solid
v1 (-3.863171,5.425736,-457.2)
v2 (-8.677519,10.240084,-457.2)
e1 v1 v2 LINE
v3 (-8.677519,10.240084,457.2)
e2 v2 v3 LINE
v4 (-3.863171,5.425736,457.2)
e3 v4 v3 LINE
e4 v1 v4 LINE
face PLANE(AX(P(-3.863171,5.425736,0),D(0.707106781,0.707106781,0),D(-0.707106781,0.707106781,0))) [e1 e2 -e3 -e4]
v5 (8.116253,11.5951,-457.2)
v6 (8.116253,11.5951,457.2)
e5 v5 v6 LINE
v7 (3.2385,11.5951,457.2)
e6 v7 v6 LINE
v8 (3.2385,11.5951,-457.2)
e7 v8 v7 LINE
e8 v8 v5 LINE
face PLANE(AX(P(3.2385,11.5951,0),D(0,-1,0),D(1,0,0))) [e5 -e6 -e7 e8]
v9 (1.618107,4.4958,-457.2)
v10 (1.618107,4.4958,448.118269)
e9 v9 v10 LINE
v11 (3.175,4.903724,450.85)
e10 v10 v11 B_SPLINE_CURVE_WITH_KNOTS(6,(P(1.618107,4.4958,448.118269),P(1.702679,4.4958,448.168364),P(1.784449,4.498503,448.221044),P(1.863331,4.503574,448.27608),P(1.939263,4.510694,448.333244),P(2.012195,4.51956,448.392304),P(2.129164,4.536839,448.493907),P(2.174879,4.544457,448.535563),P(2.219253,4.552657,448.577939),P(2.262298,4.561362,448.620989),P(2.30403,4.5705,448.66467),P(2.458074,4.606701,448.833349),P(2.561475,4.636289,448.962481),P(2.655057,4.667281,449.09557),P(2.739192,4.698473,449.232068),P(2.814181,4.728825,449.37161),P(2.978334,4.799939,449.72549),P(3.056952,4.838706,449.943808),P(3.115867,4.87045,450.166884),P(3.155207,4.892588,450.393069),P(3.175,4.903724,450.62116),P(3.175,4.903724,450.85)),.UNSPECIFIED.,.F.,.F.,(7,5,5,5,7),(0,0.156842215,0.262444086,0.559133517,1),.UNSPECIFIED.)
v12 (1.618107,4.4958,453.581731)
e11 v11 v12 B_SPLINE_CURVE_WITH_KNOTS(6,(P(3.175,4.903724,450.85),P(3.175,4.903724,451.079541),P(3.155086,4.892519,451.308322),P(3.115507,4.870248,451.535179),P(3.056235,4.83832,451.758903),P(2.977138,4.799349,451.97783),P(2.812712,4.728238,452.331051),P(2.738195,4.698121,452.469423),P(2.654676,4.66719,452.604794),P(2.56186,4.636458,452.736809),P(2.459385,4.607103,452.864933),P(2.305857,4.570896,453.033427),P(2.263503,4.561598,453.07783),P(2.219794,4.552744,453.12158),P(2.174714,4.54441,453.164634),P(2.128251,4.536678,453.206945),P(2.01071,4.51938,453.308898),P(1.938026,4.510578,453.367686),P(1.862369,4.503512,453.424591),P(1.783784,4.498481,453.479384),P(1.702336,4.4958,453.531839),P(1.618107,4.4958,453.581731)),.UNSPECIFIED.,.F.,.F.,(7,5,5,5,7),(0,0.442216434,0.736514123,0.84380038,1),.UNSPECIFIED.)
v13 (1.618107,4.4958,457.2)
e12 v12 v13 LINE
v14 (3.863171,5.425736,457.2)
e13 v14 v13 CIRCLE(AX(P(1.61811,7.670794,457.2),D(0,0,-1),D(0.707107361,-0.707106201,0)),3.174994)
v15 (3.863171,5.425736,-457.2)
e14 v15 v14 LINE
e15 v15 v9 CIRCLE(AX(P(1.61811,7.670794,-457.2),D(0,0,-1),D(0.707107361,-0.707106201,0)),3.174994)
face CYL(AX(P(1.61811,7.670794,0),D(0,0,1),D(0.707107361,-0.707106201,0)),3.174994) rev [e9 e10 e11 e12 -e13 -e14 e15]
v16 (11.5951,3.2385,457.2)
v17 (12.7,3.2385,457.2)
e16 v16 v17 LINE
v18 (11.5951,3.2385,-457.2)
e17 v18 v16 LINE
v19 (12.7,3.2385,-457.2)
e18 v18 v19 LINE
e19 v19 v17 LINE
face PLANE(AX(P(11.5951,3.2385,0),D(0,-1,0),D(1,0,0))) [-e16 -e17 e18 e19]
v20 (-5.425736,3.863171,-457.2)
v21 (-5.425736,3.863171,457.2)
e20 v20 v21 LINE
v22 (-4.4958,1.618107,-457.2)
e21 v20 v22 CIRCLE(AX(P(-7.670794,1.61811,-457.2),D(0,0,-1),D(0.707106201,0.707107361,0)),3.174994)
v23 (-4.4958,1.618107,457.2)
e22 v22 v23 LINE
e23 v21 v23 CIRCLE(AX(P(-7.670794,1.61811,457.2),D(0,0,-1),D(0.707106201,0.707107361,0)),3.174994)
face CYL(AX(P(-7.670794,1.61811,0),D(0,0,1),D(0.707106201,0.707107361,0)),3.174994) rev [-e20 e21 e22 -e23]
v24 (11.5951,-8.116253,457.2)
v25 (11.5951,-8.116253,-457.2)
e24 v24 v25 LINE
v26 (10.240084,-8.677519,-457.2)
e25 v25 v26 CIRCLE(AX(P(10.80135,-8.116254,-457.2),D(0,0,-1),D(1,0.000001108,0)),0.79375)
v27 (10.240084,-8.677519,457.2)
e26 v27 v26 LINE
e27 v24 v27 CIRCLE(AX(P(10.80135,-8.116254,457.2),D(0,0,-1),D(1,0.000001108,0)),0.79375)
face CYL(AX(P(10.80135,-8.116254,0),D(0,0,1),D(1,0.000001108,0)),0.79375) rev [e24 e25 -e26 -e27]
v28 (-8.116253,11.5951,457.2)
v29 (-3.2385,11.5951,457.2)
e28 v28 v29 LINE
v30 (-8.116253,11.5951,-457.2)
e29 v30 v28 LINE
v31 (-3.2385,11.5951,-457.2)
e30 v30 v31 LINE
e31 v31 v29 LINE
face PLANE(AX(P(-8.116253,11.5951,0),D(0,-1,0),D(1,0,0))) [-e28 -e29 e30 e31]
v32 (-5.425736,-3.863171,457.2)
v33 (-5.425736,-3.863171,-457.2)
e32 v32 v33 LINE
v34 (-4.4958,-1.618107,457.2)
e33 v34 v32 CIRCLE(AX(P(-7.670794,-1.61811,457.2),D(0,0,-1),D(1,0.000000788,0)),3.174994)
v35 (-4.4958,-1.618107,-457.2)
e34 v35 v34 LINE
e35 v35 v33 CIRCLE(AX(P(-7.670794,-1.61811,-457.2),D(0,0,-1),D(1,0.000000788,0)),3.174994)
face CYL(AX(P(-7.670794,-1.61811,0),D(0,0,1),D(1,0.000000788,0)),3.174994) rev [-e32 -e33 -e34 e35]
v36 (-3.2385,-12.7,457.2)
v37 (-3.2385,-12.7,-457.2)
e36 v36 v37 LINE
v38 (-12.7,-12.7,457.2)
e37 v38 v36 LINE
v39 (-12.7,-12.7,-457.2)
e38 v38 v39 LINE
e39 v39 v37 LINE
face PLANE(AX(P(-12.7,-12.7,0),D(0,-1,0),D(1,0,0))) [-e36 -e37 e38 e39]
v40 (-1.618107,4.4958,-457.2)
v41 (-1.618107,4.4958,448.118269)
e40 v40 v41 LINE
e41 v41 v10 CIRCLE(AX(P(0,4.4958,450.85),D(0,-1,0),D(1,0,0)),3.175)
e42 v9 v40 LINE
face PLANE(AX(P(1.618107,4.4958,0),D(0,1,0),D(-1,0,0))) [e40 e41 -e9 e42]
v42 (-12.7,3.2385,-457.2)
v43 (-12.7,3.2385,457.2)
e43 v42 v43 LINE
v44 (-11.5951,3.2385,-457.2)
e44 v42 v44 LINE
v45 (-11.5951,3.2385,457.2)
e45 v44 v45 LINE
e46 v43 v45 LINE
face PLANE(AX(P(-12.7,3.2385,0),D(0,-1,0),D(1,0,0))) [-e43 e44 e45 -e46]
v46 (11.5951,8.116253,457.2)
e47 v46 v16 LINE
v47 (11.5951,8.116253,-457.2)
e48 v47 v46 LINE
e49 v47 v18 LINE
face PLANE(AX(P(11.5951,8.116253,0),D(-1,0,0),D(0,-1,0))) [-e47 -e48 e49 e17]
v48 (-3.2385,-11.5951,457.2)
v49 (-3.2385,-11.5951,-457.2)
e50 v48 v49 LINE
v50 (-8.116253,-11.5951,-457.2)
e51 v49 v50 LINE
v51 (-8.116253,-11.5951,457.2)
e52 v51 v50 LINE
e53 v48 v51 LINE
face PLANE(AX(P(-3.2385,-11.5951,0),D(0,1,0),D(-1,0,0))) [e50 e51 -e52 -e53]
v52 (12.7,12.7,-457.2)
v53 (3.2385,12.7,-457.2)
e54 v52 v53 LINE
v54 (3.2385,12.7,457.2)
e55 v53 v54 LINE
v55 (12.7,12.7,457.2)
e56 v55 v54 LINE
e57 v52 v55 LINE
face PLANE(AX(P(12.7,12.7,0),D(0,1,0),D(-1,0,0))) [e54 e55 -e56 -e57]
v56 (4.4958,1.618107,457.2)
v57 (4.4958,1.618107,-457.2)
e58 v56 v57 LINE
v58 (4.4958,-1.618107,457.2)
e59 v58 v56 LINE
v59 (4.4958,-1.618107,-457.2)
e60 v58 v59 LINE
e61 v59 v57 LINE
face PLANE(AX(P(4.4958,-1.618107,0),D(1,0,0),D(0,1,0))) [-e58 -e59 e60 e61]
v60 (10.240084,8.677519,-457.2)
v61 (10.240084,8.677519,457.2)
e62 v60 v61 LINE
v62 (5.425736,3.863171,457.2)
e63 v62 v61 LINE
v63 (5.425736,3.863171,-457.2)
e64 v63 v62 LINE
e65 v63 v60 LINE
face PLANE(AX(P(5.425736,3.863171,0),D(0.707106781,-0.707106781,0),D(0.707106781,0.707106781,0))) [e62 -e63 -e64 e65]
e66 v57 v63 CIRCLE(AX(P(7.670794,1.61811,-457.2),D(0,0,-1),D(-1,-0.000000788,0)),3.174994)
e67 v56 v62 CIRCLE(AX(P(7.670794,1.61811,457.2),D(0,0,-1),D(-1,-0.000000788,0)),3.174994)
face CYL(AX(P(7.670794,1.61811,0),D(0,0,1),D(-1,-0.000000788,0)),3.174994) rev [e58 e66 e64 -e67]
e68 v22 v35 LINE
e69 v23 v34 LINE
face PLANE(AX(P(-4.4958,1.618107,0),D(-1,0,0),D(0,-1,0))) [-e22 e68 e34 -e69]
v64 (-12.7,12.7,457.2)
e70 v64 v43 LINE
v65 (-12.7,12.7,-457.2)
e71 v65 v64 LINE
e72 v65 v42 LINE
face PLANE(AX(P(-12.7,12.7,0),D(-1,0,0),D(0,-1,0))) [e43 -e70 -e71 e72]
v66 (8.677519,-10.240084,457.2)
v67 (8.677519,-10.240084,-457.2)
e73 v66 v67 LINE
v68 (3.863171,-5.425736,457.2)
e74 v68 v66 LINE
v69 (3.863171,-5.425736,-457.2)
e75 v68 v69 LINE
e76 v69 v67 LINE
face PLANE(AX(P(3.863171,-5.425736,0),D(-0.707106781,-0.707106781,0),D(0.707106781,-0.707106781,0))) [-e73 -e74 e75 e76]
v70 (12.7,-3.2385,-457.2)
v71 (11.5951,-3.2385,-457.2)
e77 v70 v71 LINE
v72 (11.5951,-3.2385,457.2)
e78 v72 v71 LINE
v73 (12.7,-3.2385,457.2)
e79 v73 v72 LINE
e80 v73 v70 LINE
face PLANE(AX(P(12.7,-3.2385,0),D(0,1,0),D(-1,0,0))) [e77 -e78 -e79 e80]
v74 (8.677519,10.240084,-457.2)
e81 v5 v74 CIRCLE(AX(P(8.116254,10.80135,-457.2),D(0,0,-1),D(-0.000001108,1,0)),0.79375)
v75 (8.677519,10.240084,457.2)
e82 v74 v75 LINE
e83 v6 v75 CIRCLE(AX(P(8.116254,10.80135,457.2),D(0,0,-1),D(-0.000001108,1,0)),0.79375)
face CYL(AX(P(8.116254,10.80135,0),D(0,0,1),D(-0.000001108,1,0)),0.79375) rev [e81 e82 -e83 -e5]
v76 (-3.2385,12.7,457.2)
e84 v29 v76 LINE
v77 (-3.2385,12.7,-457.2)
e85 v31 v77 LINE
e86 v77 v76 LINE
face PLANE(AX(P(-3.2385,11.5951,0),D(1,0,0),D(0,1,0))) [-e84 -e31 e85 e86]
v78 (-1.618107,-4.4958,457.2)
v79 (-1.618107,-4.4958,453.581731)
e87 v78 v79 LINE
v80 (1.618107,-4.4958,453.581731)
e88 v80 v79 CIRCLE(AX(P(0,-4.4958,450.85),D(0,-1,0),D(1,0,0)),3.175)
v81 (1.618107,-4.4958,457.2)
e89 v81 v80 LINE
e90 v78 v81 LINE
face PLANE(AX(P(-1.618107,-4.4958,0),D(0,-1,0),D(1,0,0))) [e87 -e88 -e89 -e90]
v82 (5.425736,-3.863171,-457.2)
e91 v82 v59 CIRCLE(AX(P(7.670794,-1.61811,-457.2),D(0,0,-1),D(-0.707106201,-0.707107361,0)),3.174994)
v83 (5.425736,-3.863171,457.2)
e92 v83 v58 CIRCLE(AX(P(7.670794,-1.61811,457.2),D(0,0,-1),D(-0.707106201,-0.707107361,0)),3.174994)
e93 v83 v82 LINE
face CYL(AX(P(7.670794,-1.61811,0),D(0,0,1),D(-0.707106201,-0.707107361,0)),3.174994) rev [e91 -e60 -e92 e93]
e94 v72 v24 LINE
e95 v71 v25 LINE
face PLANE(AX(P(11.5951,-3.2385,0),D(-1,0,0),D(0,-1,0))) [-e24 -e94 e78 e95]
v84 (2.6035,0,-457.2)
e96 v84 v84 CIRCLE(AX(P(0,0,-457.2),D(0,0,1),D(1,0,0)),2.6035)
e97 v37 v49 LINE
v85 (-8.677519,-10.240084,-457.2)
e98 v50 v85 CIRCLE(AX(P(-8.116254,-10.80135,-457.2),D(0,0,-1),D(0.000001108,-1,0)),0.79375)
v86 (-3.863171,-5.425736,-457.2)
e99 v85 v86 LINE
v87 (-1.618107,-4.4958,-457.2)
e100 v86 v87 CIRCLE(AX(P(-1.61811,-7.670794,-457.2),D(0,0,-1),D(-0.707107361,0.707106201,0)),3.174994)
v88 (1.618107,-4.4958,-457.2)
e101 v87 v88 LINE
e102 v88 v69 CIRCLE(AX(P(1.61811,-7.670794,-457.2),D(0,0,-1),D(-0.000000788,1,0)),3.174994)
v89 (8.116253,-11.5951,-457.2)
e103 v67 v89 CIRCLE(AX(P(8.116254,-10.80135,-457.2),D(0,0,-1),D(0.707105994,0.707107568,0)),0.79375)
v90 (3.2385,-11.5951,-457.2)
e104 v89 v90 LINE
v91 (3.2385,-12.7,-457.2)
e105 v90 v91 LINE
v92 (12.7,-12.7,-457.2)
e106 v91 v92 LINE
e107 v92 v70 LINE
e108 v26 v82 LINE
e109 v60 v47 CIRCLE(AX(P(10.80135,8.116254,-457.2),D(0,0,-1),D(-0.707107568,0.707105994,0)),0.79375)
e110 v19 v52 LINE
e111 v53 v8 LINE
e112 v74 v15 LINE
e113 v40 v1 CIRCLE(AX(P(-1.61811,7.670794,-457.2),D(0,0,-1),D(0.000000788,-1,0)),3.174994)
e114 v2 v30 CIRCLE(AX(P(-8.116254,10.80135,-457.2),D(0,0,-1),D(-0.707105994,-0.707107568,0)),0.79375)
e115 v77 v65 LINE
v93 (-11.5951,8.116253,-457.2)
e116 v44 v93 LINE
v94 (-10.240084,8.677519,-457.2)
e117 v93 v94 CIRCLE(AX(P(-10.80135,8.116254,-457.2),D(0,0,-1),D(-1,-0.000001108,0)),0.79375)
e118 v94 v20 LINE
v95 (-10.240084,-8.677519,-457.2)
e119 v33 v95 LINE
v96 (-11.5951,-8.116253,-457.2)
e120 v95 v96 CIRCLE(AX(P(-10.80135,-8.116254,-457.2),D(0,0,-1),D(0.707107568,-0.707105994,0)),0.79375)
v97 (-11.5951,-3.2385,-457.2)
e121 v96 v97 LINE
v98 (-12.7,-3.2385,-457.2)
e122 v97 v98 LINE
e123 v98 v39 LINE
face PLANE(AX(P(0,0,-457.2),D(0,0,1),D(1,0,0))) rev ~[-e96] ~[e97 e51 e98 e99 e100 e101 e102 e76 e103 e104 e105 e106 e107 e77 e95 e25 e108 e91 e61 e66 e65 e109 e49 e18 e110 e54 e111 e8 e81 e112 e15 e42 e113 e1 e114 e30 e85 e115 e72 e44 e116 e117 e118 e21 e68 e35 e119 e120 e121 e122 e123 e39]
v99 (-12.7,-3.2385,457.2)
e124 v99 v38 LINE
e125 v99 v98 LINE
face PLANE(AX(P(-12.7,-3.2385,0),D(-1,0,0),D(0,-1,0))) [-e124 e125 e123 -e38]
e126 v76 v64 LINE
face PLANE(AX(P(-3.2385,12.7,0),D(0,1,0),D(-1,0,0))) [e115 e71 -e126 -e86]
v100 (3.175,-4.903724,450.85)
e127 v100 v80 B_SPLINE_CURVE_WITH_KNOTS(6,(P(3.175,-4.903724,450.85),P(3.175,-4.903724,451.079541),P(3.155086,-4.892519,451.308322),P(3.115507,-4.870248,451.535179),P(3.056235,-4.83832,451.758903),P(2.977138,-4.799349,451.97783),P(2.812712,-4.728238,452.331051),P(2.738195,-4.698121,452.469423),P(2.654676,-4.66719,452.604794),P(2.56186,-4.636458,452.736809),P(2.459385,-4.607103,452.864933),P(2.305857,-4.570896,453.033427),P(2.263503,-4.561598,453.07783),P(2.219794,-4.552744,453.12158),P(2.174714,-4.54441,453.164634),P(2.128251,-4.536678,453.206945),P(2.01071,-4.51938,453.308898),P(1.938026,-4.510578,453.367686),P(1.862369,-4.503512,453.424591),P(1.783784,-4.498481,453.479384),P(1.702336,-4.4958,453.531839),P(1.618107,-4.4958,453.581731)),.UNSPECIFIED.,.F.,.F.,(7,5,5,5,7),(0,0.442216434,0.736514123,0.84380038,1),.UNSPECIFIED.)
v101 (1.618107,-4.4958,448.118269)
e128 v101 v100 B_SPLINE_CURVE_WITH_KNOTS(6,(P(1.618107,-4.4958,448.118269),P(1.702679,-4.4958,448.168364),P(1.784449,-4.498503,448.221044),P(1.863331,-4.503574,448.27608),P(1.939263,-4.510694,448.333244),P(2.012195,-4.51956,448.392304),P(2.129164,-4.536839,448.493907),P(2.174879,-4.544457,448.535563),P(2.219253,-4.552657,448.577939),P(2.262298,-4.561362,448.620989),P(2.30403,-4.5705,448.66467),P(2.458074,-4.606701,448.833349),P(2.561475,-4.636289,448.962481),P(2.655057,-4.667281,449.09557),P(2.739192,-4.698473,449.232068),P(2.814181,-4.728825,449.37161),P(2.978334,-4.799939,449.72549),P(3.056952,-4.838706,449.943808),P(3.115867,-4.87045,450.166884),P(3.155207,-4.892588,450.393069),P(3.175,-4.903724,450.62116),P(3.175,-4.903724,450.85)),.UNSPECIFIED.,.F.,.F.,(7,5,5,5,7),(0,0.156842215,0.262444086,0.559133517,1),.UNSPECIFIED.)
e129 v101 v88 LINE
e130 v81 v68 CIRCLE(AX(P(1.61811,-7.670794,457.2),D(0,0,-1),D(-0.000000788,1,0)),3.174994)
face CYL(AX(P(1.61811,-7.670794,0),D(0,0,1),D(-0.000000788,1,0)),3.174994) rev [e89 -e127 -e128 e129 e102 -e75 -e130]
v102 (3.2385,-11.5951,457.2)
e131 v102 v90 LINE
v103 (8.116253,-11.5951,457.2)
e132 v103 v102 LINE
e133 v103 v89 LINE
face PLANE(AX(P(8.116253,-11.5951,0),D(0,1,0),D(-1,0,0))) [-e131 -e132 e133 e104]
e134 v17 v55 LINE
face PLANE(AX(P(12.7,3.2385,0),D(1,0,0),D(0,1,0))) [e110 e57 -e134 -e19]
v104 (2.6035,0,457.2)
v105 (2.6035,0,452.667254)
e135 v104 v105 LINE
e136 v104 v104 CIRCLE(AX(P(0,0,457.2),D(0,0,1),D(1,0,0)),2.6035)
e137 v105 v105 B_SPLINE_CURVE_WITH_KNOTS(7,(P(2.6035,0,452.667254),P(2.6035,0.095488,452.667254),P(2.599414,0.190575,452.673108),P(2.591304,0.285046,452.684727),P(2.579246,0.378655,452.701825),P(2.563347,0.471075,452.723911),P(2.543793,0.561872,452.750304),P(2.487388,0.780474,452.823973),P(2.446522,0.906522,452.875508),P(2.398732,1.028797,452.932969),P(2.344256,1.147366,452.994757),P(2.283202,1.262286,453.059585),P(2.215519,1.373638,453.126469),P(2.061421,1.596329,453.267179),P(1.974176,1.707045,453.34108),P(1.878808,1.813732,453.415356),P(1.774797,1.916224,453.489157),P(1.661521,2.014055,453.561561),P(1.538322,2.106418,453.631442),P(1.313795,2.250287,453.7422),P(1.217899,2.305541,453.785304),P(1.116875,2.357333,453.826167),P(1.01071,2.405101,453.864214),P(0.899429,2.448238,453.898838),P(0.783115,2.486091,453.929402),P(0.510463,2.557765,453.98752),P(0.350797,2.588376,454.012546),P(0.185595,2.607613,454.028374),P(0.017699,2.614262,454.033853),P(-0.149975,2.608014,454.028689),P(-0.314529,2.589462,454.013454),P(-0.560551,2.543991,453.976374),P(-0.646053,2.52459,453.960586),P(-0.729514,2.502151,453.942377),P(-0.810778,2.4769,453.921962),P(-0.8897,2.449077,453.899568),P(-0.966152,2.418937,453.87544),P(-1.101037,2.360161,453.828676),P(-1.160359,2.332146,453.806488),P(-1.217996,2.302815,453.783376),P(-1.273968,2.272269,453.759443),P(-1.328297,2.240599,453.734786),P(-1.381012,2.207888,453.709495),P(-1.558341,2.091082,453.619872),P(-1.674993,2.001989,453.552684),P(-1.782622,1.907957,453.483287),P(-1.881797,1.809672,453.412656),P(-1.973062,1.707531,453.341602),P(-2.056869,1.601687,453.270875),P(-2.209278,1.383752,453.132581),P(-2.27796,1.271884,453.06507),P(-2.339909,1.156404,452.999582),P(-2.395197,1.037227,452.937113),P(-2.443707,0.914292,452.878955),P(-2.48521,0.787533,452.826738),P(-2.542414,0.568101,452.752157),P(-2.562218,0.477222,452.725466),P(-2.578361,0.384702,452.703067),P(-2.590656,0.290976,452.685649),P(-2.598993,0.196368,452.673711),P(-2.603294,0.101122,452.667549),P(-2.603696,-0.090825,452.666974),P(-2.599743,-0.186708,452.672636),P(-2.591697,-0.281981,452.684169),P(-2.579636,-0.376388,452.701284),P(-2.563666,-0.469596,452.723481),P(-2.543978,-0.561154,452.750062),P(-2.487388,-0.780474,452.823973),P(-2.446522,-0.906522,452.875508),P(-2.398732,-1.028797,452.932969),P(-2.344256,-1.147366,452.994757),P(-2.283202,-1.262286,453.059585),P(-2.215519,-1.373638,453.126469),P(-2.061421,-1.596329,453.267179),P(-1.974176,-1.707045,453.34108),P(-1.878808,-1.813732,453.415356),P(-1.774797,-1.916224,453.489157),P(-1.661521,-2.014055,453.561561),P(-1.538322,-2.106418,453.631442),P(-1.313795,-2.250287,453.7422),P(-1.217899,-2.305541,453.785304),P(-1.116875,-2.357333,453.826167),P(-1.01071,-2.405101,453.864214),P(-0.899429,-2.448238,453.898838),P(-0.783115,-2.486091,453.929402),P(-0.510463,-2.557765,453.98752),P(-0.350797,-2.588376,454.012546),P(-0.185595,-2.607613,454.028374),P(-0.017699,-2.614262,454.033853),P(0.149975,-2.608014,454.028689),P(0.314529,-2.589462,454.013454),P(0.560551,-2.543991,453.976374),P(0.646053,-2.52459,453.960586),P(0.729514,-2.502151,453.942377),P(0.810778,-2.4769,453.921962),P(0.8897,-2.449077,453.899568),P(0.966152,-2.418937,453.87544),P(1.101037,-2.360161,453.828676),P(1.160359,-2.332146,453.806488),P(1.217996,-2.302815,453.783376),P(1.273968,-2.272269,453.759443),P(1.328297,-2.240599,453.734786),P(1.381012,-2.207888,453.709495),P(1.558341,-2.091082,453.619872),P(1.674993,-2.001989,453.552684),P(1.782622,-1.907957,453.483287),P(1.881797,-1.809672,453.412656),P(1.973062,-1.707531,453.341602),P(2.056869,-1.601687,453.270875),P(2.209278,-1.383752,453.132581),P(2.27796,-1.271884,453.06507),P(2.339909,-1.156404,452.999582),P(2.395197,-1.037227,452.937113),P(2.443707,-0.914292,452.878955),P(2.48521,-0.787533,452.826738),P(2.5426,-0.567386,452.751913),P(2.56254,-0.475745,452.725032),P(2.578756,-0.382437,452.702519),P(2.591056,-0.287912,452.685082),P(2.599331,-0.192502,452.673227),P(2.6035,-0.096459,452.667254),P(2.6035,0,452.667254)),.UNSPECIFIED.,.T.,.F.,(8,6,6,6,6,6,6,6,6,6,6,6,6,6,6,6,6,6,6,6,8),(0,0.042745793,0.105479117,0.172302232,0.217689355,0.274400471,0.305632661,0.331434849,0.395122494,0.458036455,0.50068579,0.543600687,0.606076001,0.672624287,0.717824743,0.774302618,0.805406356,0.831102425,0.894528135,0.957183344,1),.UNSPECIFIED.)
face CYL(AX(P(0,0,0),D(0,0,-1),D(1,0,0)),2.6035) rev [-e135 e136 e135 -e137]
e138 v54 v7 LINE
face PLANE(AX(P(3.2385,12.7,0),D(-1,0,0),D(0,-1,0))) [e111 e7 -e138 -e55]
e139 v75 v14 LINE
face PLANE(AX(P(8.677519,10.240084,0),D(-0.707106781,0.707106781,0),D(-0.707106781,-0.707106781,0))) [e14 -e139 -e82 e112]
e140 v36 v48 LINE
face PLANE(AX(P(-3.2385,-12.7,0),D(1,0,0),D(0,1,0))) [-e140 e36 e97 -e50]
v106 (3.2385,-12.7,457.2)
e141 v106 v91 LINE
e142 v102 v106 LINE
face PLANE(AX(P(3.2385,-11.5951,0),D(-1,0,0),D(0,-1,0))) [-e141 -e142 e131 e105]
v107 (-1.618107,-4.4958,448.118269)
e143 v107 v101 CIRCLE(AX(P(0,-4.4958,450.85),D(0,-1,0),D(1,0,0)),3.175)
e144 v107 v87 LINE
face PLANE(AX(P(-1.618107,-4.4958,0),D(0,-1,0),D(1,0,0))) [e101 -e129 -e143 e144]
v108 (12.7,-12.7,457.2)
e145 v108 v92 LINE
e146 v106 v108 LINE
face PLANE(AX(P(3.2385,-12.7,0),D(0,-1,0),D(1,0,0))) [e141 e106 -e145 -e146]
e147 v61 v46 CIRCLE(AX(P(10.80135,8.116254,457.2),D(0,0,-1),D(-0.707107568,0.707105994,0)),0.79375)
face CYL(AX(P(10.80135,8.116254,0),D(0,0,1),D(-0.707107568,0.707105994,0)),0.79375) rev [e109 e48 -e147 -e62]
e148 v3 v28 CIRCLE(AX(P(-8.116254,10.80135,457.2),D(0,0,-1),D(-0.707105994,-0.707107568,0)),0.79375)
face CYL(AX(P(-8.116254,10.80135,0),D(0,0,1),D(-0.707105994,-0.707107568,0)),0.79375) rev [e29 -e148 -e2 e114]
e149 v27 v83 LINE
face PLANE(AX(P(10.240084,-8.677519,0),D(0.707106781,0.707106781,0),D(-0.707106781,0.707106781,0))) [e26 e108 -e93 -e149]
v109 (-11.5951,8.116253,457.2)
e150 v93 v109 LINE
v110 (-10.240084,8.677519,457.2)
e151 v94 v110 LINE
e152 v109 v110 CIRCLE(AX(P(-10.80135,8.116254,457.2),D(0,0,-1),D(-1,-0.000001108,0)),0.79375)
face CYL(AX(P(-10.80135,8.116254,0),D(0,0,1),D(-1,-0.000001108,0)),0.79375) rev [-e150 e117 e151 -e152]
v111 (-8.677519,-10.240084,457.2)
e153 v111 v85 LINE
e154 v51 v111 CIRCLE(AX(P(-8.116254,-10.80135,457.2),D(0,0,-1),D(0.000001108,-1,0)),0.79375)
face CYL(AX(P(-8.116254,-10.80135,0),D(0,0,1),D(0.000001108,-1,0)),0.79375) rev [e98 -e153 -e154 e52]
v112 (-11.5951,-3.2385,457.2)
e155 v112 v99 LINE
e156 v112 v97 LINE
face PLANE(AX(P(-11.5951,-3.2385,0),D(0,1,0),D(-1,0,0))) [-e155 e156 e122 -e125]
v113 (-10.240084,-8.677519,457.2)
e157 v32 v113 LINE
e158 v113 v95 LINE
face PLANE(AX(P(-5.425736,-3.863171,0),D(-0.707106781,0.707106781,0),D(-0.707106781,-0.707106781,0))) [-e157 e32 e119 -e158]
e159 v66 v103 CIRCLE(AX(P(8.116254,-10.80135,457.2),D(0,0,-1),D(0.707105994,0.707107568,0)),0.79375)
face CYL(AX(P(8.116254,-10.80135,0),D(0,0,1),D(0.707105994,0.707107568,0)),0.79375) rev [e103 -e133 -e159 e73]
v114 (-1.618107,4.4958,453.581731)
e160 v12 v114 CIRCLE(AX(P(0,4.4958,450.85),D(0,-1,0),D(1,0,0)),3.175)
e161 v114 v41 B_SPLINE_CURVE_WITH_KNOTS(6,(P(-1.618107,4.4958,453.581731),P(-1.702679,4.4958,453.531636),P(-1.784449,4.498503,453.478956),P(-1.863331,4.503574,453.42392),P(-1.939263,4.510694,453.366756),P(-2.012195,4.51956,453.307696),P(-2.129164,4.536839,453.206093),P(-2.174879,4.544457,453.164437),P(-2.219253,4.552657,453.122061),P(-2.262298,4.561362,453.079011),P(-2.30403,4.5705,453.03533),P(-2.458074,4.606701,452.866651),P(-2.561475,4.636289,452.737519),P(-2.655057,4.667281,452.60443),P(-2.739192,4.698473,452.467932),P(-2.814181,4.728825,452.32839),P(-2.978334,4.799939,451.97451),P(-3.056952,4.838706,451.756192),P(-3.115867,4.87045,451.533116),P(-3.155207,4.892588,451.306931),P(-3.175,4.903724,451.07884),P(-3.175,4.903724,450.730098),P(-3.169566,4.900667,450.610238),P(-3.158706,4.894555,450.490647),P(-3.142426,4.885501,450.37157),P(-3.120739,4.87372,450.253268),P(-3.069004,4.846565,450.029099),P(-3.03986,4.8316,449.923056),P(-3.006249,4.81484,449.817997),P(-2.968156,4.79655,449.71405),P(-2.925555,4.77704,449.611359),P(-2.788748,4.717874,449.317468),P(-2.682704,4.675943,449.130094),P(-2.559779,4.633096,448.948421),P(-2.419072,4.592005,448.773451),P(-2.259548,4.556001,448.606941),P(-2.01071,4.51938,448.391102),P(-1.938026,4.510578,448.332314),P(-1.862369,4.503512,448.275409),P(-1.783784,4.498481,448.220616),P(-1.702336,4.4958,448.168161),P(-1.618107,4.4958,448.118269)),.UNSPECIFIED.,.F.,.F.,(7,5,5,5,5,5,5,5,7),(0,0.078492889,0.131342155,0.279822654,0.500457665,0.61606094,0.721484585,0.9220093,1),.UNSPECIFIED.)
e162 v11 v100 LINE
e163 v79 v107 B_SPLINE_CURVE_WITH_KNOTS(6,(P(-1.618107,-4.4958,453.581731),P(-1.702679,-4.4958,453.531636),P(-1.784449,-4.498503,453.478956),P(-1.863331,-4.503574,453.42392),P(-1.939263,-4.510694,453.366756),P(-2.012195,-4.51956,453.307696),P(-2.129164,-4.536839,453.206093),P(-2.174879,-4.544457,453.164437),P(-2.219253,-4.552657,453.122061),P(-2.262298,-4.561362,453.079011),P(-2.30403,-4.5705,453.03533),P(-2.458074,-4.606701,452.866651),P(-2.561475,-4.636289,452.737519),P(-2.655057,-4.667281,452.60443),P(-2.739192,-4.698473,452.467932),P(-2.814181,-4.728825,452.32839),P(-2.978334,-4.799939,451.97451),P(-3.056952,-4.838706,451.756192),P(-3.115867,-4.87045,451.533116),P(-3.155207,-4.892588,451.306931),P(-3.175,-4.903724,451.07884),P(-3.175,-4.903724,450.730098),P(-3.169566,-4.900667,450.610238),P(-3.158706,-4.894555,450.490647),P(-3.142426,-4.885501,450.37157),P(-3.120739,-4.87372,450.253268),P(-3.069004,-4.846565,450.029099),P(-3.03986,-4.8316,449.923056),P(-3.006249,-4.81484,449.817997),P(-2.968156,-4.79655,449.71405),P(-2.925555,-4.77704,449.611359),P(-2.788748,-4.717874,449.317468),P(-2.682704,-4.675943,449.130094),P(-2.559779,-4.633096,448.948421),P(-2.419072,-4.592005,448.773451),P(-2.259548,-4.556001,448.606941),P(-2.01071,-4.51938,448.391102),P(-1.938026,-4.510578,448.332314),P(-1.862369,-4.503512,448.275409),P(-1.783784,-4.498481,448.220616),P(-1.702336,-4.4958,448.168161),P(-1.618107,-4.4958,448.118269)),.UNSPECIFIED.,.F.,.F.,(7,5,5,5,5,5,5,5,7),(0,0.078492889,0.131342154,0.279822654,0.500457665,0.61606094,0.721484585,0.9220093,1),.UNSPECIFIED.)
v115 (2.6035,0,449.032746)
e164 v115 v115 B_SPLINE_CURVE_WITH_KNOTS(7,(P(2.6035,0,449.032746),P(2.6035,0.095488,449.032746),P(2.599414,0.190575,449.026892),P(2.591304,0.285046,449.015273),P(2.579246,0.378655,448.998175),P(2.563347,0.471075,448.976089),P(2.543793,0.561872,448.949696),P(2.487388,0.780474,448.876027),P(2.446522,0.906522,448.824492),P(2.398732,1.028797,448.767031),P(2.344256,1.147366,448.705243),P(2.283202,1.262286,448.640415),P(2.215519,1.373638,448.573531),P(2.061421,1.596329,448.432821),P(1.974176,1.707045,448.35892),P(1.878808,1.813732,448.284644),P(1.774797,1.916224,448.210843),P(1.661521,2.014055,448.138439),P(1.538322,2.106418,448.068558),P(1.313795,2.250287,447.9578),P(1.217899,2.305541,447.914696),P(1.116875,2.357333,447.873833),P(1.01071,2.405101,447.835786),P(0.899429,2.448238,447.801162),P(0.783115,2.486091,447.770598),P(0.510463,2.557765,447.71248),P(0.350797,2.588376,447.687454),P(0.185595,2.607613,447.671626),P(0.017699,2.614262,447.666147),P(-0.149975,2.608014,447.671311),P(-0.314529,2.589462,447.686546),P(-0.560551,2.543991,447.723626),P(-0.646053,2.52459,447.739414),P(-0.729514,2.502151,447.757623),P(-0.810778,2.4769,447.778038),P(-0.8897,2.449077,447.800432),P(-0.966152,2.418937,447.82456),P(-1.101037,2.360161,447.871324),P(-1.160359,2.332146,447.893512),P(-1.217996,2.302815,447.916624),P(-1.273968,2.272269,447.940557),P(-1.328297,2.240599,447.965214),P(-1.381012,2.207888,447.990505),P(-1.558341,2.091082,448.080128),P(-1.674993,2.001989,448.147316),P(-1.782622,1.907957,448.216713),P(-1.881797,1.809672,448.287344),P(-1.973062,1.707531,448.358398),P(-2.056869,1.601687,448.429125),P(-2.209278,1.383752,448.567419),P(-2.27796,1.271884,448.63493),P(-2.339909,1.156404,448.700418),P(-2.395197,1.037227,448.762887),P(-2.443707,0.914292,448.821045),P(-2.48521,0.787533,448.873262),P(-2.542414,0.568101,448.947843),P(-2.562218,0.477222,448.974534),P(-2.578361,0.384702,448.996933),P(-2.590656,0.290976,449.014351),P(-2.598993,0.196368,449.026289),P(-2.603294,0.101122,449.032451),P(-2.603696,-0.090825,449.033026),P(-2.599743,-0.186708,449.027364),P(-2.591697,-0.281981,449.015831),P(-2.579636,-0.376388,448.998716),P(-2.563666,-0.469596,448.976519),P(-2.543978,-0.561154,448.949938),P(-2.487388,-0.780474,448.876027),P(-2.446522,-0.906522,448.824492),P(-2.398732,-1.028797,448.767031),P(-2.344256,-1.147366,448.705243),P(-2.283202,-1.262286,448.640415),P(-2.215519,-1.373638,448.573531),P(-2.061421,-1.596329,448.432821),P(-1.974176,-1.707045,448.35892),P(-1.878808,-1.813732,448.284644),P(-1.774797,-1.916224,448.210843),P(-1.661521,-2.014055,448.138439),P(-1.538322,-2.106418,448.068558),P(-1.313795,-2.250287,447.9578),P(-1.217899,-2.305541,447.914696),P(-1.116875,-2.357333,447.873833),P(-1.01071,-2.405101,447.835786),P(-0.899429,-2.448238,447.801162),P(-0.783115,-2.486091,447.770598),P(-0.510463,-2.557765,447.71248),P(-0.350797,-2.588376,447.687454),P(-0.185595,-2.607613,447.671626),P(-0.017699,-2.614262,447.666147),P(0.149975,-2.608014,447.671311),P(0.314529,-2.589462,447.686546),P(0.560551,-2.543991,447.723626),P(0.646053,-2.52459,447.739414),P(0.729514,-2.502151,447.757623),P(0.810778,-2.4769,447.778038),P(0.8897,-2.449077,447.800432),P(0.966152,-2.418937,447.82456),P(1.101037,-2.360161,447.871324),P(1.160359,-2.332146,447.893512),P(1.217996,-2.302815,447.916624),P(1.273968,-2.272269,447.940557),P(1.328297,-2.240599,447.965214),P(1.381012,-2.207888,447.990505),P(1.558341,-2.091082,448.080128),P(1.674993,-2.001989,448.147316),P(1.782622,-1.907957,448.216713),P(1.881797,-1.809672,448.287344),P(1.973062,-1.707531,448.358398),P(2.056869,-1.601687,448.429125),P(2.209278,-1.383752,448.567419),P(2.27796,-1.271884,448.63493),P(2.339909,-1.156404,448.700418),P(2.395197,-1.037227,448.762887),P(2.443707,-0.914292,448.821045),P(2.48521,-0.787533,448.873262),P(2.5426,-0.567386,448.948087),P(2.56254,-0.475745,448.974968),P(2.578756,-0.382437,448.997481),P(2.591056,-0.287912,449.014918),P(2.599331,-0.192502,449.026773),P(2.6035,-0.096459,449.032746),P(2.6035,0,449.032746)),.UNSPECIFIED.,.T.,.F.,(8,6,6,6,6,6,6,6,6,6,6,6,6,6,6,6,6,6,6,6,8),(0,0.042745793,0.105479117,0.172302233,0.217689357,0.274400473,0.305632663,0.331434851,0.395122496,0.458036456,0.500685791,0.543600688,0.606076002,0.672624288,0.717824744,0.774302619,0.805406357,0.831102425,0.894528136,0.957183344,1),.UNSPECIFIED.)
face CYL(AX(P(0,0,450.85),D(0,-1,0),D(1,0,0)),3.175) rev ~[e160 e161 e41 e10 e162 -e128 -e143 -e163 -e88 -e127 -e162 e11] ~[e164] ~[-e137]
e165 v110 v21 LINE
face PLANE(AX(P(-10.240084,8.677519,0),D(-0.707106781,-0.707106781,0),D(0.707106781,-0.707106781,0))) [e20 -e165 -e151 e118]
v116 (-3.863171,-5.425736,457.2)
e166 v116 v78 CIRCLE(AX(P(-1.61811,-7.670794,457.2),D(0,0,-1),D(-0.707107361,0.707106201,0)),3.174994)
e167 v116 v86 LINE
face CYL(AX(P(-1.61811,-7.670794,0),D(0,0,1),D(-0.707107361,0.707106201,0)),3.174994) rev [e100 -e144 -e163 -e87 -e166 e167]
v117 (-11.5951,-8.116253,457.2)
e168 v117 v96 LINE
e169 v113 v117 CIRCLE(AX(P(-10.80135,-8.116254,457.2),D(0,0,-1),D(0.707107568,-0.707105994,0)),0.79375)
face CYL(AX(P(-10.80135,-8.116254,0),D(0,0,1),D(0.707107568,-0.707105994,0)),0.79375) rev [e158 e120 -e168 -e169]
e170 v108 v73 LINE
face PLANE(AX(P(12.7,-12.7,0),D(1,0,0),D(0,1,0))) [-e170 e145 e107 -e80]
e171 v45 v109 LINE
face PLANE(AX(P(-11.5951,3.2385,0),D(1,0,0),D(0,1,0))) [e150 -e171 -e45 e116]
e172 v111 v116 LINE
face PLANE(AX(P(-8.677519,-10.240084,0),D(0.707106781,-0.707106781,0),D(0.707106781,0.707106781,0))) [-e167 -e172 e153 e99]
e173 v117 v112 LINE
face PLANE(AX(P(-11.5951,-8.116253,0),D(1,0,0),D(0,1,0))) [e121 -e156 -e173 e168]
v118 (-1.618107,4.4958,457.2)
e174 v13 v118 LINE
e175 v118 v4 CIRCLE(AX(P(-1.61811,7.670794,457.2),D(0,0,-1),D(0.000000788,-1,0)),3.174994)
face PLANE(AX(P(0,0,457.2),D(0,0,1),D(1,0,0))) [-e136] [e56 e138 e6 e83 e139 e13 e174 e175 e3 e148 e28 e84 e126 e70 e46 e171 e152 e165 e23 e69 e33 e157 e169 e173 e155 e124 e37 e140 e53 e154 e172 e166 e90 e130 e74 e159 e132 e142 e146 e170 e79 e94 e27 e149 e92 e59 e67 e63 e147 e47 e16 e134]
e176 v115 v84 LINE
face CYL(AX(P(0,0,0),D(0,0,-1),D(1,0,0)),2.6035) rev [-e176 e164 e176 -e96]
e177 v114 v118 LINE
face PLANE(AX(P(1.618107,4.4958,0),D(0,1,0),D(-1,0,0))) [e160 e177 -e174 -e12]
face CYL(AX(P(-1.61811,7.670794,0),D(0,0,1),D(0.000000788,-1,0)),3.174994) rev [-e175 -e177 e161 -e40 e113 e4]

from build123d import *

# Parameters (mm, degrees)
F0_R     = 2.6035
F1_DEPTH = 457.2
F2_R     = 3.175
F3_DEPTH = 25.4


with BuildPart() as f1:
    # F0 (on Top) → F1 (new body, symmetric)
    with BuildSketch(Plane.XY):
        with BuildLine():
            ThreePointArc((4.4958, 1.618107), (4.737482, 2.833127), (5.425736, 3.863171))
            Line((5.425736, 3.863171), (10.240084, 8.677519))
            ThreePointArc((10.240084, 8.677519), (11.105105, 8.849583), (11.5951, 8.116253))
            Line((11.5951, 8.116253), (11.5951, 3.2385))
            Line((11.5951, 3.2385), (12.7, 3.2385))
            Line((12.7, 3.2385), (12.7, 12.7))
            Line((12.7, 12.7), (3.2385, 12.7))
            Line((3.2385, 12.7), (3.2385, 11.5951))
            Line((3.2385, 11.5951), (8.116253, 11.5951))
            ThreePointArc((8.116253, 11.5951), (8.849583, 11.105105), (8.677519, 10.240084))
            Line((8.677519, 10.240084), (3.863171, 5.425736))
            ThreePointArc((3.863171, 5.425736), (2.833127, 4.737482), (1.618107, 4.4958))
            Line((1.618107, 4.4958), (0, 4.4958))
            Line((0, 4.4958), (-1.618107, 4.4958))
            ThreePointArc((-1.618107, 4.4958), (-2.833127, 4.737482), (-3.863171, 5.425736))
            Line((-3.863171, 5.425736), (-8.677519, 10.240084))
            ThreePointArc((-8.677519, 10.240084), (-8.849583, 11.105105), (-8.116253, 11.5951))
            Line((-8.116253, 11.5951), (-3.2385, 11.5951))
            Line((-3.2385, 11.5951), (-3.2385, 12.7))
            Line((-3.2385, 12.7), (-12.7, 12.7))
            Line((-12.7, 12.7), (-12.7, 3.2385))
            Line((-12.7, 3.2385), (-11.5951, 3.2385))
            Line((-11.5951, 3.2385), (-11.5951, 8.116253))
            ThreePointArc((-11.5951, 8.116253), (-11.105105, 8.849583), (-10.240084, 8.677519))
            Line((-10.240084, 8.677519), (-5.425736, 3.863171))
            ThreePointArc((-5.425736, 3.863171), (-4.737482, 2.833127), (-4.4958, 1.618107))
            Line((-4.4958, 1.618107), (-4.4958, 0))
            Line((-4.4958, 0), (-4.4958, -1.618107))
            ThreePointArc((-4.4958, -1.618107), (-4.737482, -2.833127), (-5.425736, -3.863171))
            Line((-5.425736, -3.863171), (-10.240084, -8.677519))
            ThreePointArc((-10.240084, -8.677519), (-11.105105, -8.849583), (-11.5951, -8.116253))
            Line((-11.5951, -8.116253), (-11.5951, -3.2385))
            Line((-11.5951, -3.2385), (-12.7, -3.2385))
            Line((-12.7, -3.2385), (-12.7, -12.7))
            Line((-12.7, -12.7), (-3.2385, -12.7))
            Line((-3.2385, -12.7), (-3.2385, -11.5951))
            Line((-3.2385, -11.5951), (-8.116253, -11.5951))
            ThreePointArc((-8.116253, -11.5951), (-8.849583, -11.105105), (-8.677519, -10.240084))
            Line((-8.677519, -10.240084), (-3.863171, -5.425736))
            ThreePointArc((-3.863171, -5.425736), (-2.833127, -4.737482), (-1.618107, -4.4958))
            Line((-1.618107, -4.4958), (0, -4.4958))
            Line((0, -4.4958), (1.618107, -4.4958))
            ThreePointArc((1.618107, -4.4958), (2.833127, -4.737482), (3.863171, -5.425736))
            Line((3.863171, -5.425736), (8.677519, -10.240084))
            ThreePointArc((8.677519, -10.240084), (8.849583, -11.105105), (8.116253, -11.5951))
            Line((8.116253, -11.5951), (3.2385, -11.5951))
            Line((3.2385, -11.5951), (3.2385, -12.7))
            Line((3.2385, -12.7), (12.7, -12.7))
            Line((12.7, -12.7), (12.7, -3.2385))
            Line((12.7, -3.2385), (11.5951, -3.2385))
            Line((11.5951, -3.2385), (11.5951, -8.116253))
            ThreePointArc((11.5951, -8.116253), (11.105105, -8.849583), (10.240084, -8.677519))
            Line((10.240084, -8.677519), (5.425736, -3.863171))
            ThreePointArc((5.425736, -3.863171), (4.737482, -2.833127), (4.4958, -1.618107))
            Line((4.4958, -1.618107), (4.4958, 0))
            Line((4.4958, 0), (4.4958, 1.618107))
        make_face()
        Circle(F0_R, mode=Mode.SUBTRACT)
    extrude(amount=F1_DEPTH, both=True)

    # F2 (on Front) → F3 (cut, symmetric)
    with BuildSketch(Plane.XZ):
        with Locations((0, 450.85)):
            Circle(F2_R)
    extrude(amount=F3_DEPTH, both=True, mode=Mode.SUBTRACT)


solid = f1.part
